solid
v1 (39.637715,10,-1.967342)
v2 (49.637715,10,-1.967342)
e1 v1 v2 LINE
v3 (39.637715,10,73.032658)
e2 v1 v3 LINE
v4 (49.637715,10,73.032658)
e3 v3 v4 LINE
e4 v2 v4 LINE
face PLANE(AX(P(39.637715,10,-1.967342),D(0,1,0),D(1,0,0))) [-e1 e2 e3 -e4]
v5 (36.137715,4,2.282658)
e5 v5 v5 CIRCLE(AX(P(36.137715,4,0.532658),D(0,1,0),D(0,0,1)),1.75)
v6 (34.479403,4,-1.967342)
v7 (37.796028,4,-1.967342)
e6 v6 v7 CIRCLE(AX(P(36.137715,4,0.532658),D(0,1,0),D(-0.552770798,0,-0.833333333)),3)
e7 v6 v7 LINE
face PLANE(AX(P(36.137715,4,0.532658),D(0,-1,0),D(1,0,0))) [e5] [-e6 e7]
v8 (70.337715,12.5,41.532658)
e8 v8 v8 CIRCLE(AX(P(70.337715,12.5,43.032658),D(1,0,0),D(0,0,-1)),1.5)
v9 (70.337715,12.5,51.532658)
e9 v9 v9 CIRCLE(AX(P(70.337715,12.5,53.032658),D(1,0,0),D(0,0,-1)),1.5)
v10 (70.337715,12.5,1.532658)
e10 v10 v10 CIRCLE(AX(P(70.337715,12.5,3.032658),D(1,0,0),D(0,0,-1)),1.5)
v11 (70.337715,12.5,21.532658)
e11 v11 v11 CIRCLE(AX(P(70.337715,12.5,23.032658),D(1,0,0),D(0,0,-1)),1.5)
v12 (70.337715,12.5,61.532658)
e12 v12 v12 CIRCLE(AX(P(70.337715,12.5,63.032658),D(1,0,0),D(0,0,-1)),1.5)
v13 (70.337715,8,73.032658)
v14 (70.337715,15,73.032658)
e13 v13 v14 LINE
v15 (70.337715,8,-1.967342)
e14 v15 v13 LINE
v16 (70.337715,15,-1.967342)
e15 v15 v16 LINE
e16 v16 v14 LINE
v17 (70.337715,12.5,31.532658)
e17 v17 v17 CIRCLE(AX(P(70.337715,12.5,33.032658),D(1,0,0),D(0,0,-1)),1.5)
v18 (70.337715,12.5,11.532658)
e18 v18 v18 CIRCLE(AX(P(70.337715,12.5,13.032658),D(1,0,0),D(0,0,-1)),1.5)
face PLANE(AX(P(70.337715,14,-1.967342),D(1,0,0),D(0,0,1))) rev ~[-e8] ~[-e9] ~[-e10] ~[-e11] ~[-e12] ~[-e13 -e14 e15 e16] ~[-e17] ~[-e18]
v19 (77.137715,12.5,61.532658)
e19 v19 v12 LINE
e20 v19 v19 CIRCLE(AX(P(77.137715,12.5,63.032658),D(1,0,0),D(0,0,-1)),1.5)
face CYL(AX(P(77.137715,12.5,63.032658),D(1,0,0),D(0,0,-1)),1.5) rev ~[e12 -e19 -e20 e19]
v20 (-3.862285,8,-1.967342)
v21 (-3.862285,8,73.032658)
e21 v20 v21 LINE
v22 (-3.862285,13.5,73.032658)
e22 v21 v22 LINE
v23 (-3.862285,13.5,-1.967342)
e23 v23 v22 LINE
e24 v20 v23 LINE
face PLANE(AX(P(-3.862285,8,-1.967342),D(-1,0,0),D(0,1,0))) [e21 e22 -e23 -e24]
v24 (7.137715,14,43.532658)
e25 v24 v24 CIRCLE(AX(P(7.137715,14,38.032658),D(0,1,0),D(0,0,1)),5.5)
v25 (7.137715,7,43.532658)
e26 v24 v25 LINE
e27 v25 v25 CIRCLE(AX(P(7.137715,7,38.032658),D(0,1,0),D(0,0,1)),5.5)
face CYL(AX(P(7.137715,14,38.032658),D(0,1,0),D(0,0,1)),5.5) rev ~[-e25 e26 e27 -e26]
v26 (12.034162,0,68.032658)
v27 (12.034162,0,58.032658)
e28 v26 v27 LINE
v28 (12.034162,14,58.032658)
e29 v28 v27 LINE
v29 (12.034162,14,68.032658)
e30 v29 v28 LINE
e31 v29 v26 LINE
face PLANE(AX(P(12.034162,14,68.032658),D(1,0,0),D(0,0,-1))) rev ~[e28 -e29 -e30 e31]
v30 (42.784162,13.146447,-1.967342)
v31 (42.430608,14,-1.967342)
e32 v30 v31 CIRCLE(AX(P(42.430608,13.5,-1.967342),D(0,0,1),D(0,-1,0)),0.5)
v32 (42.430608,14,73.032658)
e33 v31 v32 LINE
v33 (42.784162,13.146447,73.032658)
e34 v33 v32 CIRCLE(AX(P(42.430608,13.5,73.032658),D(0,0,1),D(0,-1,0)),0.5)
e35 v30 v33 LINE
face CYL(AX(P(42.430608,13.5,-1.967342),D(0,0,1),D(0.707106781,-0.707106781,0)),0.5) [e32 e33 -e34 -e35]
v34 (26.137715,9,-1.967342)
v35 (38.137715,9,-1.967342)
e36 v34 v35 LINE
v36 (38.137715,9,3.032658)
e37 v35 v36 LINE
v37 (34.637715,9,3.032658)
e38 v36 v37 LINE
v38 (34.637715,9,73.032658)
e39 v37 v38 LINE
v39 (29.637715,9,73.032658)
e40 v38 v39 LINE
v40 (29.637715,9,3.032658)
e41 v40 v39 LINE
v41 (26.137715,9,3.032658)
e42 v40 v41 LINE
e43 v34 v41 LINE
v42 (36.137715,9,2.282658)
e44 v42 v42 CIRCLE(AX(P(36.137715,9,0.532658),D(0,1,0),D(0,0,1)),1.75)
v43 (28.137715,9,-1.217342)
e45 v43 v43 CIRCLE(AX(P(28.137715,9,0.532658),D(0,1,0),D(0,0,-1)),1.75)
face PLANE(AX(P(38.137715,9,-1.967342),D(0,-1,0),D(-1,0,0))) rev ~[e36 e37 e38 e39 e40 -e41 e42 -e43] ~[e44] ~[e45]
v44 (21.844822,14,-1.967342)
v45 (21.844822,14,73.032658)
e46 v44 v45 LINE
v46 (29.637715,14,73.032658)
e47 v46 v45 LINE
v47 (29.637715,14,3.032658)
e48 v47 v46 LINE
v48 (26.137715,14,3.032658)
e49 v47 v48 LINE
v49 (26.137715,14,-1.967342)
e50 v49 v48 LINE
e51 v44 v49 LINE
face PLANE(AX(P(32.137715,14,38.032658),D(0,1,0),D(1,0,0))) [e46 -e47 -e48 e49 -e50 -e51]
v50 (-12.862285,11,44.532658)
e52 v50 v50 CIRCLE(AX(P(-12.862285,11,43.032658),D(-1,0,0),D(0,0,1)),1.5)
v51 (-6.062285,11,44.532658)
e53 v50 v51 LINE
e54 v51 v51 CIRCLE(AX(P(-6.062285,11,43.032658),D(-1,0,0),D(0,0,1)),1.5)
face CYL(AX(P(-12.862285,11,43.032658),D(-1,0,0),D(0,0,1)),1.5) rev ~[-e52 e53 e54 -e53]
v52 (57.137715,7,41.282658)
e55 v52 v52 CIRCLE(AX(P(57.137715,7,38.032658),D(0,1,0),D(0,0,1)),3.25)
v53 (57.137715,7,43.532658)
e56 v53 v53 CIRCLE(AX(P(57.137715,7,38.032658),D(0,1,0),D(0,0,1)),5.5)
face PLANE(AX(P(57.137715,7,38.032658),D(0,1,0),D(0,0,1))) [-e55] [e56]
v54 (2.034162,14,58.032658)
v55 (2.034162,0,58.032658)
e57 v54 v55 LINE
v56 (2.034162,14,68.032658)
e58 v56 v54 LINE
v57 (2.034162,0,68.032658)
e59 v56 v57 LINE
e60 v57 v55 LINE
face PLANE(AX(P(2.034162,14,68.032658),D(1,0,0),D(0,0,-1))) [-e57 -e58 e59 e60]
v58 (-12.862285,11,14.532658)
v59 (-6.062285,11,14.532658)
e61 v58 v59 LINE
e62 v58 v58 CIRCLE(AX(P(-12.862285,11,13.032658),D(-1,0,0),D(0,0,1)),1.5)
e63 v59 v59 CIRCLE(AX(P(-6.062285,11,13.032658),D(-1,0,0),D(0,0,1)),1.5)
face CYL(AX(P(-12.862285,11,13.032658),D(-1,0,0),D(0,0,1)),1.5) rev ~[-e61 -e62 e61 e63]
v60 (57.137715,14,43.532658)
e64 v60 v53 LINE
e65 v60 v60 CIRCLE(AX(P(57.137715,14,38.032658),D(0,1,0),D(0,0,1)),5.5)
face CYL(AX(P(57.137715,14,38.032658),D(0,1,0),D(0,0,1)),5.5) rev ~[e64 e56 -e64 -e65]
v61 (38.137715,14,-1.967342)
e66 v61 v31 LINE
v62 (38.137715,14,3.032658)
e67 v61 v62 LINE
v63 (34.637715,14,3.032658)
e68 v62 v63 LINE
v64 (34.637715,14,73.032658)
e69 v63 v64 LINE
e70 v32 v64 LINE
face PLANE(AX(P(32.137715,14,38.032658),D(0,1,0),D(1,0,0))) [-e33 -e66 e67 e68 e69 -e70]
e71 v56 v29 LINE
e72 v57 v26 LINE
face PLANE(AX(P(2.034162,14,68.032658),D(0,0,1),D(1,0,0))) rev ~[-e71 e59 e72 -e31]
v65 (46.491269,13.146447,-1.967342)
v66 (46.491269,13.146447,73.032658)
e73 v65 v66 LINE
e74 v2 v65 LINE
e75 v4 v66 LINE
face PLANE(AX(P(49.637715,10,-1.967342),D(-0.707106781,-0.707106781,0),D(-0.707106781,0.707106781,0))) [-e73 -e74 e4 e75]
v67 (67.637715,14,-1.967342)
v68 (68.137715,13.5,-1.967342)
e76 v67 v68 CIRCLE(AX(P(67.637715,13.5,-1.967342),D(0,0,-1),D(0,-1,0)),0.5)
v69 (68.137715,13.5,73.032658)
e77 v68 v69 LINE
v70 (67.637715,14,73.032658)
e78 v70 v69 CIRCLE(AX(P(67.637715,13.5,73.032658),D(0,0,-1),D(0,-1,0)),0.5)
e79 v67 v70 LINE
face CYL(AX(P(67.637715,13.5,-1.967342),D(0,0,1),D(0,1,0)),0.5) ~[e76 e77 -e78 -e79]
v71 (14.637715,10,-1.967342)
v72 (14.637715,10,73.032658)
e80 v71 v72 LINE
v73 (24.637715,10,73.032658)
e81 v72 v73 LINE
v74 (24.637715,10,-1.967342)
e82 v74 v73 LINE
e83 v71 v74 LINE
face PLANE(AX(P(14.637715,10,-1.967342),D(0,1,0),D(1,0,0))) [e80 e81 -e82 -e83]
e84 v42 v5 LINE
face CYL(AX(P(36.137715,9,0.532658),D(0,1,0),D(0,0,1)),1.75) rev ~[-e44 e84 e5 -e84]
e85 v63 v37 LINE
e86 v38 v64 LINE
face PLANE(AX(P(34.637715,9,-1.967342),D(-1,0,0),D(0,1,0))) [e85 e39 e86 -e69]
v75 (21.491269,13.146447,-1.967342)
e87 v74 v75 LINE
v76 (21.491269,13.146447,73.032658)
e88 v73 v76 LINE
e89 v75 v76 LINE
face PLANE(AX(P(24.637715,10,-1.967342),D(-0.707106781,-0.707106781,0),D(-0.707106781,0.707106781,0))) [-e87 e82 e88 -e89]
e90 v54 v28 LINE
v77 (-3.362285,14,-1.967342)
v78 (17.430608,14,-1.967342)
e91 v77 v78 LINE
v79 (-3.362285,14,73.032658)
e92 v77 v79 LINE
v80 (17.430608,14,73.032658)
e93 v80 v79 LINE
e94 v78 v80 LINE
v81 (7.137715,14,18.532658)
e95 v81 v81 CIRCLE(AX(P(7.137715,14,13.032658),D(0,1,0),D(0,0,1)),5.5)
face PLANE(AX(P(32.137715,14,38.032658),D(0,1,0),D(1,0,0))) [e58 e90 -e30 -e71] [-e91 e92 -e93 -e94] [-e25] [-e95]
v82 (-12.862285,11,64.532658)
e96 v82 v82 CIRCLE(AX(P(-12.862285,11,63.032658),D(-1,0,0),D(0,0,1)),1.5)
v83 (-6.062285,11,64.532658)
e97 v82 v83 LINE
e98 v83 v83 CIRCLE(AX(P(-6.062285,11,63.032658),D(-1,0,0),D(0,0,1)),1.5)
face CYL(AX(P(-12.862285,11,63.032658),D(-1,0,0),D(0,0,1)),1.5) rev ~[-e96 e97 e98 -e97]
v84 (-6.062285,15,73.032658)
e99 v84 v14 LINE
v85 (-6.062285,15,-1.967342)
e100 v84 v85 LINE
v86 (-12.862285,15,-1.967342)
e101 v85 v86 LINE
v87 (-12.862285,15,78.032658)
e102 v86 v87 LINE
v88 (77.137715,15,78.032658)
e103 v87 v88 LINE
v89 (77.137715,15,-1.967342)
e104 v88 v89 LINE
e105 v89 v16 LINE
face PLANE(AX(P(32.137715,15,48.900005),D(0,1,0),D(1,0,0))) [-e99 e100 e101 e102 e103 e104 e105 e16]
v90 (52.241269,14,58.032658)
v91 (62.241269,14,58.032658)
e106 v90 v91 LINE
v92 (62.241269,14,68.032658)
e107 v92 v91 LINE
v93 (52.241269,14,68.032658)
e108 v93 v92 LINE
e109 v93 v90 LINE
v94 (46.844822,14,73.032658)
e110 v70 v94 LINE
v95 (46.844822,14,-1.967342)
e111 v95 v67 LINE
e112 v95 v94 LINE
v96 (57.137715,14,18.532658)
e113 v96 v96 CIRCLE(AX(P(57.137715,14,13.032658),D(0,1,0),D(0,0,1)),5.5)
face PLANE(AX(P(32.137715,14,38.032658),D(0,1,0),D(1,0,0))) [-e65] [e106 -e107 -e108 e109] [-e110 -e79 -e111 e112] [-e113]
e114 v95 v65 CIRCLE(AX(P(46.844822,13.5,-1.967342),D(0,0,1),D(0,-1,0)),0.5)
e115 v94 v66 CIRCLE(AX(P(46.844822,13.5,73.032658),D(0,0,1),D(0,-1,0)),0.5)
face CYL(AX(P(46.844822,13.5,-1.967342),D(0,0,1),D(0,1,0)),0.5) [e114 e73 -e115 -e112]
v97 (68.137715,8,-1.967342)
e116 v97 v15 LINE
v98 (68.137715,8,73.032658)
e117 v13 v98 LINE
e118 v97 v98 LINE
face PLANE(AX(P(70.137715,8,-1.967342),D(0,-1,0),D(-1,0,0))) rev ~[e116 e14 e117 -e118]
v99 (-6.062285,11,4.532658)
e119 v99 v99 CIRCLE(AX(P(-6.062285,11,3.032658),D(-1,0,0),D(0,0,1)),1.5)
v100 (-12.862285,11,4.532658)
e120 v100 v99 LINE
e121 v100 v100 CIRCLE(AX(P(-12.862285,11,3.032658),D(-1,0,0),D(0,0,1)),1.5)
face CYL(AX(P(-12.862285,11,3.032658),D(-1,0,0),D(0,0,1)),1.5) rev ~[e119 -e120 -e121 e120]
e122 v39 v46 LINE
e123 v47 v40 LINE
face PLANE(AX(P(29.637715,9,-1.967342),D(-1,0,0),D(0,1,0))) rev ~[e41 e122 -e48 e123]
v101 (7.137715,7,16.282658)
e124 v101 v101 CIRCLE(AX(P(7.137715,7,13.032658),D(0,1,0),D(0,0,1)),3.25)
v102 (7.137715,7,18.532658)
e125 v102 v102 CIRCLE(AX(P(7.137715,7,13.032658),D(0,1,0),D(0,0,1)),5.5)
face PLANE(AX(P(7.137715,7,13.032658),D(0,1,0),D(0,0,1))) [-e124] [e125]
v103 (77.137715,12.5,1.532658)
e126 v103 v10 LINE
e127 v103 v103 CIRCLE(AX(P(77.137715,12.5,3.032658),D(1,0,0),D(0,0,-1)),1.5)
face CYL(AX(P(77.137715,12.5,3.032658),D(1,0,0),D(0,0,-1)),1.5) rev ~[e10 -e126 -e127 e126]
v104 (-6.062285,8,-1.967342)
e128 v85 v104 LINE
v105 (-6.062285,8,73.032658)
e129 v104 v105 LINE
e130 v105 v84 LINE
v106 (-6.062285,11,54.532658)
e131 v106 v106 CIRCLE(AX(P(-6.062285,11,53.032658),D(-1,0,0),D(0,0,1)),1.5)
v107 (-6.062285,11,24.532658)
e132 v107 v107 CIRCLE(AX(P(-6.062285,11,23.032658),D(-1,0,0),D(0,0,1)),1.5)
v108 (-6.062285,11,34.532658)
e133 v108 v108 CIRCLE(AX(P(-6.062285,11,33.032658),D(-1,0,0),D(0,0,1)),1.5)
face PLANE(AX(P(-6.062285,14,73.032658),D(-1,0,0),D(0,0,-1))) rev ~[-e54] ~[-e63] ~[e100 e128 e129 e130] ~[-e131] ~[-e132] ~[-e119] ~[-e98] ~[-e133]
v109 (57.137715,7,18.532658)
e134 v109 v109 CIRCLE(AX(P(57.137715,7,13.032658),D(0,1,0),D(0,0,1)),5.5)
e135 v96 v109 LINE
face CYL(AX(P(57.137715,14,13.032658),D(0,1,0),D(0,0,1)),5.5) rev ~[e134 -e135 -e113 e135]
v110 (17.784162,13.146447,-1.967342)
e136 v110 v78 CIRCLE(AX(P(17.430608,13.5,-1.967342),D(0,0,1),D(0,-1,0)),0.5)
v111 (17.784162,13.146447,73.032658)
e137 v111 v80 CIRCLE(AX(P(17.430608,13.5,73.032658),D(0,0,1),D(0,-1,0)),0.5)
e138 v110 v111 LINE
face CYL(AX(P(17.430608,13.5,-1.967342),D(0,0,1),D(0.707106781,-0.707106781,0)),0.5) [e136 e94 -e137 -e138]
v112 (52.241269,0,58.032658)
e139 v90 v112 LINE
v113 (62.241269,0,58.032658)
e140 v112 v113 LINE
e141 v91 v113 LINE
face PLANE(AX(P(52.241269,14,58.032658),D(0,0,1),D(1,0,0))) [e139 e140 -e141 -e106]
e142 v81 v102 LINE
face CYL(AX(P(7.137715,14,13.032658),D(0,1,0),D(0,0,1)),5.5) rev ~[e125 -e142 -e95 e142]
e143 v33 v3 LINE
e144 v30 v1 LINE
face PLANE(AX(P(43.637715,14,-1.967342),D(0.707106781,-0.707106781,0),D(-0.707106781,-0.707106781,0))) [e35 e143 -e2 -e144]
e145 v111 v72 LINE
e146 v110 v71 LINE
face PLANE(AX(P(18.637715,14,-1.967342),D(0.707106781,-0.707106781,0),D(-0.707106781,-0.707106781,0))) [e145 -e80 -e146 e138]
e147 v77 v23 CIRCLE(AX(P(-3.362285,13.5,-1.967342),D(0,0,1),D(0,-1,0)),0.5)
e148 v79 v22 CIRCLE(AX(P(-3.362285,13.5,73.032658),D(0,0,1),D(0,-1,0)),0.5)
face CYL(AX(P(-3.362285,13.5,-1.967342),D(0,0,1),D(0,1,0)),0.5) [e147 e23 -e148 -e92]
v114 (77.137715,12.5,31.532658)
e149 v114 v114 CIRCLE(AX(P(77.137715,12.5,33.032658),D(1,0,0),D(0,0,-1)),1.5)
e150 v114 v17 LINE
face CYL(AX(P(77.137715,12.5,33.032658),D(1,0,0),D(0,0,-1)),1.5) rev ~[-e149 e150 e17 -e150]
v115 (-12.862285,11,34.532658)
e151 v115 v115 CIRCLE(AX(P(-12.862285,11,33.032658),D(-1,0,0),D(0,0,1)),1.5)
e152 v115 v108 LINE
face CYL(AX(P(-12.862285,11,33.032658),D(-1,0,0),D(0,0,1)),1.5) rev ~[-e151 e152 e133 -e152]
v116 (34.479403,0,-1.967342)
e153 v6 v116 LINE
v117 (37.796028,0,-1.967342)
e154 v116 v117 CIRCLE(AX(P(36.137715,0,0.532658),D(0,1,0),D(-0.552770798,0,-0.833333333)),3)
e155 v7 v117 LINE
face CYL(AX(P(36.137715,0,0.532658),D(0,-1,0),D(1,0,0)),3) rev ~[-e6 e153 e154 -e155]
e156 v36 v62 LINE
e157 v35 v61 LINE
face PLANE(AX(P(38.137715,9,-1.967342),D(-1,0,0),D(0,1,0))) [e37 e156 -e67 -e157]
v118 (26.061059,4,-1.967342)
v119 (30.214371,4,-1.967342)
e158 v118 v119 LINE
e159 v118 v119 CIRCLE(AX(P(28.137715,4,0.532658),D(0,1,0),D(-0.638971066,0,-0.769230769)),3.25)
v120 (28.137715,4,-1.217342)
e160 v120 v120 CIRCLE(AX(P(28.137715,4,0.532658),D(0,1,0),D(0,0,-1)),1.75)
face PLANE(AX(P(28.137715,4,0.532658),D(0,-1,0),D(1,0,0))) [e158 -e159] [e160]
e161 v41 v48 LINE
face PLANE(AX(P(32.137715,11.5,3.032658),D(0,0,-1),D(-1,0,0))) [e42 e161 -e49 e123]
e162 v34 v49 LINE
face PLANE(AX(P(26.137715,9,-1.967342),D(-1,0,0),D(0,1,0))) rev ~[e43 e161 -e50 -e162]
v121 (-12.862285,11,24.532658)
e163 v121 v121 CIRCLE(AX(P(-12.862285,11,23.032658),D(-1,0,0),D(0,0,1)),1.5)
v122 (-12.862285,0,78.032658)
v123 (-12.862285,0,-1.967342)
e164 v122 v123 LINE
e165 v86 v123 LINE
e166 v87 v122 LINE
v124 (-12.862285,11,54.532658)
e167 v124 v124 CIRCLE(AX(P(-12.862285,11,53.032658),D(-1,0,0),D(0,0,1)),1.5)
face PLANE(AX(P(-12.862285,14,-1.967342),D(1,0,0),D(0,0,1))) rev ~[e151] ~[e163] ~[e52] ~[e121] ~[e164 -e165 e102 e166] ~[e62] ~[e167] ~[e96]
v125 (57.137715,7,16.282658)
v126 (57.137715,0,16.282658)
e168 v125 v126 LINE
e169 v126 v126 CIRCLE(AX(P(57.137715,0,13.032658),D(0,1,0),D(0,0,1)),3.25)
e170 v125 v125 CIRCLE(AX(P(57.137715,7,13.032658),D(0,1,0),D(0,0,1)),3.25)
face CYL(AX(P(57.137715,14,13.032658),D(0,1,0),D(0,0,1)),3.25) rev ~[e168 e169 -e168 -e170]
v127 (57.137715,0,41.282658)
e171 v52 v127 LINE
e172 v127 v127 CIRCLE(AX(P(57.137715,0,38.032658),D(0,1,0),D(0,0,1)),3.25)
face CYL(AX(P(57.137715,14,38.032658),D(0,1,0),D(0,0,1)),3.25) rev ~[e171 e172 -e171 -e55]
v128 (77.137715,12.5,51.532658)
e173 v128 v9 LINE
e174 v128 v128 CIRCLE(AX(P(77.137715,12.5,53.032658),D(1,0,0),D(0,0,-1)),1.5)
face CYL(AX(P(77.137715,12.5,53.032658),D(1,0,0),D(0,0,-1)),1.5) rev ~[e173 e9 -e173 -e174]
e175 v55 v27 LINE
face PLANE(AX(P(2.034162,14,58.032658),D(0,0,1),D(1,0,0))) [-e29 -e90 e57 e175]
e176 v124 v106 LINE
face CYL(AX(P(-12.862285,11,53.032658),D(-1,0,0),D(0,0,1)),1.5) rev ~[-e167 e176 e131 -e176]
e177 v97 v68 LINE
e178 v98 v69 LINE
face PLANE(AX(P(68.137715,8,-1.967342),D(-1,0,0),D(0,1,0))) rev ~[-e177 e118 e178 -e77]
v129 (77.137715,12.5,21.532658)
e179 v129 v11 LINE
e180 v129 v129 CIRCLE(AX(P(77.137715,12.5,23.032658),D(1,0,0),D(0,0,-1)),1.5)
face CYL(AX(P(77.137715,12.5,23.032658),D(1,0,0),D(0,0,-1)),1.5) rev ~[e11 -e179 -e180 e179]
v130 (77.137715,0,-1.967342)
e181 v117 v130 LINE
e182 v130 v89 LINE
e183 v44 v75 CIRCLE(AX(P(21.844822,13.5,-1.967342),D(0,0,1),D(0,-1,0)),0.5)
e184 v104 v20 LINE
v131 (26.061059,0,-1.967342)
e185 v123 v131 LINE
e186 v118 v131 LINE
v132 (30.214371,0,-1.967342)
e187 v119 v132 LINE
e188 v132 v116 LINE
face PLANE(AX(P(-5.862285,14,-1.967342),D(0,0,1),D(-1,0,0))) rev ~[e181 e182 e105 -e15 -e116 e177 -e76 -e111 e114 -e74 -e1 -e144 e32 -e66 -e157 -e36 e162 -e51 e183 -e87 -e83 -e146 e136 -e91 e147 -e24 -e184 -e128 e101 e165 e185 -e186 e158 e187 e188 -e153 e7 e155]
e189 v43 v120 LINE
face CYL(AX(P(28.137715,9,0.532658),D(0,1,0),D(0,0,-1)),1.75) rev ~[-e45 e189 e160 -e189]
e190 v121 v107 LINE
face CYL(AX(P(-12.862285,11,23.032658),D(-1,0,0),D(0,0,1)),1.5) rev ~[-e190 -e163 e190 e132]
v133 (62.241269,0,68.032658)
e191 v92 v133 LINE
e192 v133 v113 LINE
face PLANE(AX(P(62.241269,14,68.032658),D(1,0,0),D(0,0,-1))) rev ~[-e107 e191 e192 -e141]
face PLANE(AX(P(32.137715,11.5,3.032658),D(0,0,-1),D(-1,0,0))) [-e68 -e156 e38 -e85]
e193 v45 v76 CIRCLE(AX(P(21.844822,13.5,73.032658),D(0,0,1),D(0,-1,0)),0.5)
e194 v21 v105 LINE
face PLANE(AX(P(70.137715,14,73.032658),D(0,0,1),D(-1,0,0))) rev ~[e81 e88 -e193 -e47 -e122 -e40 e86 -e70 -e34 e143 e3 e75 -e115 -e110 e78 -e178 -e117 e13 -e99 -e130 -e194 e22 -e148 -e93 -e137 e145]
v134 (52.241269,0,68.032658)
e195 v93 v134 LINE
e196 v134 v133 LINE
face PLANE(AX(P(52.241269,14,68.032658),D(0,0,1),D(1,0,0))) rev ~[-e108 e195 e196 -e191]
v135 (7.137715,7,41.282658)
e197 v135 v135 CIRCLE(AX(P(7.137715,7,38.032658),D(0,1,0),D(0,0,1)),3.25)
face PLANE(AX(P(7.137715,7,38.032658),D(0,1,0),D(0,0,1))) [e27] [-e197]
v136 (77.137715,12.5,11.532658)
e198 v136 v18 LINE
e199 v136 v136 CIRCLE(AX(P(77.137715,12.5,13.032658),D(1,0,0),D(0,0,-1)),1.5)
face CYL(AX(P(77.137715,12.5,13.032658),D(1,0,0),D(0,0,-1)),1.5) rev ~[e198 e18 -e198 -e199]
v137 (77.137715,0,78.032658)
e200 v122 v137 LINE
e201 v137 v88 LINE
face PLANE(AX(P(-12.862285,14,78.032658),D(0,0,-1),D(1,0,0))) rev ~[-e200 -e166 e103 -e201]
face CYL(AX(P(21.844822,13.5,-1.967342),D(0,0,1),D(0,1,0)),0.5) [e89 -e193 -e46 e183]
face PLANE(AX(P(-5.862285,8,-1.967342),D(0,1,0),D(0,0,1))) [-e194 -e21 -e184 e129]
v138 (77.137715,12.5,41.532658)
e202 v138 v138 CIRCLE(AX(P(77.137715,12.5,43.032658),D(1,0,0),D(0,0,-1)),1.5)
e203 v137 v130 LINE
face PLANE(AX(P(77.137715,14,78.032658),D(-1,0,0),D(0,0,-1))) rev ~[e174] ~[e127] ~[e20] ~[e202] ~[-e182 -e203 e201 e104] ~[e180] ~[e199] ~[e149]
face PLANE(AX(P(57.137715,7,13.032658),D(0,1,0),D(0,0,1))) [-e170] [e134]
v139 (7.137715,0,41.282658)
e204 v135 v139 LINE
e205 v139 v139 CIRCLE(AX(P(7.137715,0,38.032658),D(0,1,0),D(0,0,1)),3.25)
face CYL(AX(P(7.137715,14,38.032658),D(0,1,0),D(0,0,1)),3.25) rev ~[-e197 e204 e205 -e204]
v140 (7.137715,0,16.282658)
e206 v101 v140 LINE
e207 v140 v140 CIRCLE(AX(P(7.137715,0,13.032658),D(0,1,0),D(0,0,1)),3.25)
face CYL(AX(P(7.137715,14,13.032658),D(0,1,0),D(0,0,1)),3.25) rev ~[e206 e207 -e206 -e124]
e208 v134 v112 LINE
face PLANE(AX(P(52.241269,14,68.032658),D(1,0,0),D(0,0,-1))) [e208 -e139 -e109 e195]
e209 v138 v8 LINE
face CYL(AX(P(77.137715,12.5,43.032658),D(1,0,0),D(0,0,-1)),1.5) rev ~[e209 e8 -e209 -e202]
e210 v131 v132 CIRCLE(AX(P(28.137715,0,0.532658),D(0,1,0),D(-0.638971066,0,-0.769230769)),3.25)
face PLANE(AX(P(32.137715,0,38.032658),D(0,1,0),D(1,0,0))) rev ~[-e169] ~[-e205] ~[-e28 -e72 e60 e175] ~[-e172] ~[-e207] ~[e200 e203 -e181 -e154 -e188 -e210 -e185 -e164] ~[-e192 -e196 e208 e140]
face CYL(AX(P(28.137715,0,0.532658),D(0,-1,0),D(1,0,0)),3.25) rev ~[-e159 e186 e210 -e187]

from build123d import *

# Parameters (mm, degrees)
SKETCH1_W           = 90
SKETCH1_H           = 80
BOSS_EXTRUDE1_DEPTH = 14
BOSS_EXTRUDE2_DEPTH = 1
SKETCH3_R           = 3.25
CUT_EXTRUDE1_DEPTH  = 111.613393245
SKETCH4_R           = 5.5
CUT_EXTRUDE2_DEPTH  = 7
SKETCH5_W           = 2
SKETCH5_H           = 6
SKETCH5_W_2         = 5
SKETCH5_H_2         = 5
CUT_EXTRUDE3_DEPTH  = 75
FILLET2_R           = 0.5
SKETCH6_R           = 1.5
CUT_EXTRUDE4_DEPTH  = 7
SKETCH7_R           = 1.5
CUT_EXTRUDE5_DEPTH  = 7
SKETCH8_W           = 12
SKETCH8_H           = 5
CUT_EXTRUDE6_DEPTH  = 5
SKETCH9_R           = 1.75
CUT_EXTRUDE7_DEPTH  = 111.09233745
SKETCH10_R          = 3
SKETCH10_R_2        = 3.25
CUT_EXTRUDE8_DEPTH  = 4
MOVE_FACE1_BY       = 0.2
MOVE_FACE1_2_BY     = 0.2
SKETCH11_W          = 10
SKETCH11_H          = 10
CUT_EXTRUDE10_DEPTH = 111.613393245


with BuildPart() as part:
    # Sketch1 → Boss-Extrude1 (new body)
    with BuildSketch(Plane(origin=(0, 0, 0), x_dir=(1, 0, 0), z_dir=(0, 1, 0))):
        with Locations((32.137715261, -38.032657583)):
            Rectangle(SKETCH1_W, SKETCH1_H)
    extrude(amount=BOSS_EXTRUDE1_DEPTH)

    # Sketch2 → Boss-Extrude2 (add)
    with BuildSketch(Plane(origin=(0, 14, 0), x_dir=(1, 0, 0), z_dir=(0, 1, 0))):
        Polygon((-12.862284739, -78.032657583), (77.137715261, -78.032657583), (77.137715261, -68.032657583), (77.137715261, 1.967342417), (70.137715261, 1.967342417), (70.137715261, -73.032657583), (-5.862284739, -73.032657583), (-5.862284739, 1.967342417), (-12.862284739, 1.967342417), (-12.862284739, -73.032657583), align=None)
    extrude(amount=BOSS_EXTRUDE2_DEPTH)

    # Sketch3 → Cut-Extrude1 (cut, through all)
    with BuildSketch(Plane(origin=(0, 14, 0), x_dir=(1, 0, 0), z_dir=(0, 1, 0))):
        with Locations(Location((57.137715261, -38.032657583, 0), (0, 0, 270))):
            Circle(SKETCH3_R)
        with Locations(Location((7.137715261, -38.032657583, 0), (0, 0, 270))):
            Circle(SKETCH3_R)
        with Locations(Location((7.137715261, -13.032657583, 0), (0, 0, 270))):
            Circle(SKETCH3_R)
        with Locations(Location((57.137715261, -13.032657583, 0), (0, 0, 270))):
            Circle(SKETCH3_R)
    extrude(amount=-CUT_EXTRUDE1_DEPTH, mode=Mode.SUBTRACT)

    # Sketch4 → Cut-Extrude2 (cut)
    with BuildSketch(Plane(origin=(0, 14, 0), x_dir=(1, 0, 0), z_dir=(0, 1, 0))):
        with Locations(Location((7.137715261, -38.032657583, 0), (0, 0, 270))):
            Circle(SKETCH4_R)
        with Locations(Location((57.137715261, -38.032657583, 0), (0, 0, 270))):
            Circle(SKETCH4_R)
        with Locations(Location((57.137715261, -13.032657583, 0), (0, 0, 270))):
            Circle(SKETCH4_R)
        with Locations(Location((7.137715261, -13.032657583, 0), (0, 0, 270))):
            Circle(SKETCH4_R)
    extrude(amount=-CUT_EXTRUDE2_DEPTH, mode=Mode.SUBTRACT)

    # Sketch5 → Cut-Extrude3 (cut)
    with BuildSketch(Plane(origin=(0, 0, -1.967342417), x_dir=(-1, 0, 0), z_dir=(0, 0, -1))):
        Polygon((-45.637715261, 14), (-43.637715261, 14), (-39.637715261, 10), (-49.637715261, 10), align=None)
        Polygon((-14.637715261, 10), (-24.637715261, 10), (-20.637715261, 14), (-18.637715261, 14), align=None)
        with Locations((-69.137715261, 11)):
            Rectangle(SKETCH5_W, SKETCH5_H)
        with Locations((4.862284739, 11)):
            Rectangle(SKETCH5_W, SKETCH5_H)
        with Locations((-32.137715261, 11.5)):
            Rectangle(SKETCH5_W_2, SKETCH5_H_2)
    extrude(amount=-CUT_EXTRUDE3_DEPTH, mode=Mode.SUBTRACT)

    # Fillet2
    fillet2_edges = [part.edges().sort_by_distance(p)[0] for p in [
        (68.137715261, 14, 35.532657583),
        (-3.862284739, 14, 35.532657583),
        (20.637715261, 14, 35.532657583),
        (18.637715261, 14, 35.532657583),
        (43.637715261, 14, 35.532657583),
        (45.637715261, 14, 35.532657583),
    ]]
    fillet(fillet2_edges, radius=FILLET2_R)

    # Sketch6 → Cut-Extrude4 (cut)
    with BuildSketch(Plane(origin=(77.137715261, 0, 0), x_dir=(0, 0, -1), z_dir=(1, 0, 0))):
        with Locations((-3.032657583, 12.5)):
            Circle(SKETCH6_R)
        with Locations((-13.032657583, 12.5)):
            Circle(SKETCH6_R)
        with Locations((-23.032657583, 12.5)):
            Circle(SKETCH6_R)
        with Locations((-33.032657583, 12.5)):
            Circle(SKETCH6_R)
        with Locations((-43.032657583, 12.5)):
            Circle(SKETCH6_R)
        with Locations((-53.032657583, 12.5)):
            Circle(SKETCH6_R)
        with Locations((-63.032657583, 12.5)):
            Circle(SKETCH6_R)
    extrude(amount=-CUT_EXTRUDE4_DEPTH, mode=Mode.SUBTRACT)

    # Sketch7 → Cut-Extrude5 (cut)
    with BuildSketch(Plane.ZY.offset(12.862284739)):
        with Locations((3.032657583, 11)):
            Circle(SKETCH7_R)
        with Locations((13.032657583, 11)):
            Circle(SKETCH7_R)
        with Locations((23.032657583, 11)):
            Circle(SKETCH7_R)
        with Locations((33.032657583, 11)):
            Circle(SKETCH7_R)
        with Locations((43.032657583, 11)):
            Circle(SKETCH7_R)
        with Locations((53.032657583, 11)):
            Circle(SKETCH7_R)
        with Locations((63.032657583, 11)):
            Circle(SKETCH7_R)
    extrude(amount=-CUT_EXTRUDE5_DEPTH, mode=Mode.SUBTRACT)

    # Sketch8 → Cut-Extrude6 (cut)
    with BuildSketch(Plane(origin=(0, 0, -1.967342417), x_dir=(-1, 0, 0), z_dir=(0, 0, -1))):
        with Locations((-32.137715261, 11.5)):
            Rectangle(SKETCH8_W, SKETCH8_H)
    extrude(amount=-CUT_EXTRUDE6_DEPTH, mode=Mode.SUBTRACT)

    # Sketch9 → Cut-Extrude7 (cut, through all)
    with BuildSketch(Plane(origin=(0, 9, 0), x_dir=(1, 0, 0), z_dir=(0, 1, 0))):
        with Locations(Location((36.137715261, -0.532657583, 0), (0, 0, 270))):
            Circle(SKETCH9_R)
        with Locations(Location((28.137715261, -0.532657583, 0), (0, 0, 90))):
            Circle(SKETCH9_R)
    extrude(amount=-CUT_EXTRUDE7_DEPTH, mode=Mode.SUBTRACT)

    # Sketch10 → Cut-Extrude8 (cut)
    with BuildSketch(Plane.XZ):
        with Locations((36.137715261, 0.532657583)):
            Circle(SKETCH10_R)
        with Locations((28.137715261, 0.532657583)):
            Circle(SKETCH10_R_2)
    extrude(amount=-CUT_EXTRUDE8_DEPTH, mode=Mode.SUBTRACT)

    # Move Face1: a face moved inward by 0.2
    extrude(part.faces().sort_by_distance((70.137715261, 11.395945296, 35.792794344))[0], amount=MOVE_FACE1_BY, dir=(1, 0, 0), mode=Mode.SUBTRACT)

    # Move Face1 2: a face moved inward by 0.2
    extrude(part.faces().sort_by_distance((-5.862284739, 11.552027352, 35.792794344))[0], amount=MOVE_FACE1_2_BY, dir=(-1, 0, 0), mode=Mode.SUBTRACT)

    # Sketch11 → Cut-Extrude10 (cut, through all)
    with BuildSketch(Plane(origin=(0, 14, 0), x_dir=(1, 0, 0), z_dir=(0, 1, 0))):
        with Locations((7.03416187, -63.032657583)):
            Rectangle(SKETCH11_W, SKETCH11_H)
        with Locations((57.241268652, -63.032657583)):
            Rectangle(SKETCH11_W, SKETCH11_H)
    extrude(amount=-CUT_EXTRUDE10_DEPTH, mode=Mode.SUBTRACT)


solid = part.part
